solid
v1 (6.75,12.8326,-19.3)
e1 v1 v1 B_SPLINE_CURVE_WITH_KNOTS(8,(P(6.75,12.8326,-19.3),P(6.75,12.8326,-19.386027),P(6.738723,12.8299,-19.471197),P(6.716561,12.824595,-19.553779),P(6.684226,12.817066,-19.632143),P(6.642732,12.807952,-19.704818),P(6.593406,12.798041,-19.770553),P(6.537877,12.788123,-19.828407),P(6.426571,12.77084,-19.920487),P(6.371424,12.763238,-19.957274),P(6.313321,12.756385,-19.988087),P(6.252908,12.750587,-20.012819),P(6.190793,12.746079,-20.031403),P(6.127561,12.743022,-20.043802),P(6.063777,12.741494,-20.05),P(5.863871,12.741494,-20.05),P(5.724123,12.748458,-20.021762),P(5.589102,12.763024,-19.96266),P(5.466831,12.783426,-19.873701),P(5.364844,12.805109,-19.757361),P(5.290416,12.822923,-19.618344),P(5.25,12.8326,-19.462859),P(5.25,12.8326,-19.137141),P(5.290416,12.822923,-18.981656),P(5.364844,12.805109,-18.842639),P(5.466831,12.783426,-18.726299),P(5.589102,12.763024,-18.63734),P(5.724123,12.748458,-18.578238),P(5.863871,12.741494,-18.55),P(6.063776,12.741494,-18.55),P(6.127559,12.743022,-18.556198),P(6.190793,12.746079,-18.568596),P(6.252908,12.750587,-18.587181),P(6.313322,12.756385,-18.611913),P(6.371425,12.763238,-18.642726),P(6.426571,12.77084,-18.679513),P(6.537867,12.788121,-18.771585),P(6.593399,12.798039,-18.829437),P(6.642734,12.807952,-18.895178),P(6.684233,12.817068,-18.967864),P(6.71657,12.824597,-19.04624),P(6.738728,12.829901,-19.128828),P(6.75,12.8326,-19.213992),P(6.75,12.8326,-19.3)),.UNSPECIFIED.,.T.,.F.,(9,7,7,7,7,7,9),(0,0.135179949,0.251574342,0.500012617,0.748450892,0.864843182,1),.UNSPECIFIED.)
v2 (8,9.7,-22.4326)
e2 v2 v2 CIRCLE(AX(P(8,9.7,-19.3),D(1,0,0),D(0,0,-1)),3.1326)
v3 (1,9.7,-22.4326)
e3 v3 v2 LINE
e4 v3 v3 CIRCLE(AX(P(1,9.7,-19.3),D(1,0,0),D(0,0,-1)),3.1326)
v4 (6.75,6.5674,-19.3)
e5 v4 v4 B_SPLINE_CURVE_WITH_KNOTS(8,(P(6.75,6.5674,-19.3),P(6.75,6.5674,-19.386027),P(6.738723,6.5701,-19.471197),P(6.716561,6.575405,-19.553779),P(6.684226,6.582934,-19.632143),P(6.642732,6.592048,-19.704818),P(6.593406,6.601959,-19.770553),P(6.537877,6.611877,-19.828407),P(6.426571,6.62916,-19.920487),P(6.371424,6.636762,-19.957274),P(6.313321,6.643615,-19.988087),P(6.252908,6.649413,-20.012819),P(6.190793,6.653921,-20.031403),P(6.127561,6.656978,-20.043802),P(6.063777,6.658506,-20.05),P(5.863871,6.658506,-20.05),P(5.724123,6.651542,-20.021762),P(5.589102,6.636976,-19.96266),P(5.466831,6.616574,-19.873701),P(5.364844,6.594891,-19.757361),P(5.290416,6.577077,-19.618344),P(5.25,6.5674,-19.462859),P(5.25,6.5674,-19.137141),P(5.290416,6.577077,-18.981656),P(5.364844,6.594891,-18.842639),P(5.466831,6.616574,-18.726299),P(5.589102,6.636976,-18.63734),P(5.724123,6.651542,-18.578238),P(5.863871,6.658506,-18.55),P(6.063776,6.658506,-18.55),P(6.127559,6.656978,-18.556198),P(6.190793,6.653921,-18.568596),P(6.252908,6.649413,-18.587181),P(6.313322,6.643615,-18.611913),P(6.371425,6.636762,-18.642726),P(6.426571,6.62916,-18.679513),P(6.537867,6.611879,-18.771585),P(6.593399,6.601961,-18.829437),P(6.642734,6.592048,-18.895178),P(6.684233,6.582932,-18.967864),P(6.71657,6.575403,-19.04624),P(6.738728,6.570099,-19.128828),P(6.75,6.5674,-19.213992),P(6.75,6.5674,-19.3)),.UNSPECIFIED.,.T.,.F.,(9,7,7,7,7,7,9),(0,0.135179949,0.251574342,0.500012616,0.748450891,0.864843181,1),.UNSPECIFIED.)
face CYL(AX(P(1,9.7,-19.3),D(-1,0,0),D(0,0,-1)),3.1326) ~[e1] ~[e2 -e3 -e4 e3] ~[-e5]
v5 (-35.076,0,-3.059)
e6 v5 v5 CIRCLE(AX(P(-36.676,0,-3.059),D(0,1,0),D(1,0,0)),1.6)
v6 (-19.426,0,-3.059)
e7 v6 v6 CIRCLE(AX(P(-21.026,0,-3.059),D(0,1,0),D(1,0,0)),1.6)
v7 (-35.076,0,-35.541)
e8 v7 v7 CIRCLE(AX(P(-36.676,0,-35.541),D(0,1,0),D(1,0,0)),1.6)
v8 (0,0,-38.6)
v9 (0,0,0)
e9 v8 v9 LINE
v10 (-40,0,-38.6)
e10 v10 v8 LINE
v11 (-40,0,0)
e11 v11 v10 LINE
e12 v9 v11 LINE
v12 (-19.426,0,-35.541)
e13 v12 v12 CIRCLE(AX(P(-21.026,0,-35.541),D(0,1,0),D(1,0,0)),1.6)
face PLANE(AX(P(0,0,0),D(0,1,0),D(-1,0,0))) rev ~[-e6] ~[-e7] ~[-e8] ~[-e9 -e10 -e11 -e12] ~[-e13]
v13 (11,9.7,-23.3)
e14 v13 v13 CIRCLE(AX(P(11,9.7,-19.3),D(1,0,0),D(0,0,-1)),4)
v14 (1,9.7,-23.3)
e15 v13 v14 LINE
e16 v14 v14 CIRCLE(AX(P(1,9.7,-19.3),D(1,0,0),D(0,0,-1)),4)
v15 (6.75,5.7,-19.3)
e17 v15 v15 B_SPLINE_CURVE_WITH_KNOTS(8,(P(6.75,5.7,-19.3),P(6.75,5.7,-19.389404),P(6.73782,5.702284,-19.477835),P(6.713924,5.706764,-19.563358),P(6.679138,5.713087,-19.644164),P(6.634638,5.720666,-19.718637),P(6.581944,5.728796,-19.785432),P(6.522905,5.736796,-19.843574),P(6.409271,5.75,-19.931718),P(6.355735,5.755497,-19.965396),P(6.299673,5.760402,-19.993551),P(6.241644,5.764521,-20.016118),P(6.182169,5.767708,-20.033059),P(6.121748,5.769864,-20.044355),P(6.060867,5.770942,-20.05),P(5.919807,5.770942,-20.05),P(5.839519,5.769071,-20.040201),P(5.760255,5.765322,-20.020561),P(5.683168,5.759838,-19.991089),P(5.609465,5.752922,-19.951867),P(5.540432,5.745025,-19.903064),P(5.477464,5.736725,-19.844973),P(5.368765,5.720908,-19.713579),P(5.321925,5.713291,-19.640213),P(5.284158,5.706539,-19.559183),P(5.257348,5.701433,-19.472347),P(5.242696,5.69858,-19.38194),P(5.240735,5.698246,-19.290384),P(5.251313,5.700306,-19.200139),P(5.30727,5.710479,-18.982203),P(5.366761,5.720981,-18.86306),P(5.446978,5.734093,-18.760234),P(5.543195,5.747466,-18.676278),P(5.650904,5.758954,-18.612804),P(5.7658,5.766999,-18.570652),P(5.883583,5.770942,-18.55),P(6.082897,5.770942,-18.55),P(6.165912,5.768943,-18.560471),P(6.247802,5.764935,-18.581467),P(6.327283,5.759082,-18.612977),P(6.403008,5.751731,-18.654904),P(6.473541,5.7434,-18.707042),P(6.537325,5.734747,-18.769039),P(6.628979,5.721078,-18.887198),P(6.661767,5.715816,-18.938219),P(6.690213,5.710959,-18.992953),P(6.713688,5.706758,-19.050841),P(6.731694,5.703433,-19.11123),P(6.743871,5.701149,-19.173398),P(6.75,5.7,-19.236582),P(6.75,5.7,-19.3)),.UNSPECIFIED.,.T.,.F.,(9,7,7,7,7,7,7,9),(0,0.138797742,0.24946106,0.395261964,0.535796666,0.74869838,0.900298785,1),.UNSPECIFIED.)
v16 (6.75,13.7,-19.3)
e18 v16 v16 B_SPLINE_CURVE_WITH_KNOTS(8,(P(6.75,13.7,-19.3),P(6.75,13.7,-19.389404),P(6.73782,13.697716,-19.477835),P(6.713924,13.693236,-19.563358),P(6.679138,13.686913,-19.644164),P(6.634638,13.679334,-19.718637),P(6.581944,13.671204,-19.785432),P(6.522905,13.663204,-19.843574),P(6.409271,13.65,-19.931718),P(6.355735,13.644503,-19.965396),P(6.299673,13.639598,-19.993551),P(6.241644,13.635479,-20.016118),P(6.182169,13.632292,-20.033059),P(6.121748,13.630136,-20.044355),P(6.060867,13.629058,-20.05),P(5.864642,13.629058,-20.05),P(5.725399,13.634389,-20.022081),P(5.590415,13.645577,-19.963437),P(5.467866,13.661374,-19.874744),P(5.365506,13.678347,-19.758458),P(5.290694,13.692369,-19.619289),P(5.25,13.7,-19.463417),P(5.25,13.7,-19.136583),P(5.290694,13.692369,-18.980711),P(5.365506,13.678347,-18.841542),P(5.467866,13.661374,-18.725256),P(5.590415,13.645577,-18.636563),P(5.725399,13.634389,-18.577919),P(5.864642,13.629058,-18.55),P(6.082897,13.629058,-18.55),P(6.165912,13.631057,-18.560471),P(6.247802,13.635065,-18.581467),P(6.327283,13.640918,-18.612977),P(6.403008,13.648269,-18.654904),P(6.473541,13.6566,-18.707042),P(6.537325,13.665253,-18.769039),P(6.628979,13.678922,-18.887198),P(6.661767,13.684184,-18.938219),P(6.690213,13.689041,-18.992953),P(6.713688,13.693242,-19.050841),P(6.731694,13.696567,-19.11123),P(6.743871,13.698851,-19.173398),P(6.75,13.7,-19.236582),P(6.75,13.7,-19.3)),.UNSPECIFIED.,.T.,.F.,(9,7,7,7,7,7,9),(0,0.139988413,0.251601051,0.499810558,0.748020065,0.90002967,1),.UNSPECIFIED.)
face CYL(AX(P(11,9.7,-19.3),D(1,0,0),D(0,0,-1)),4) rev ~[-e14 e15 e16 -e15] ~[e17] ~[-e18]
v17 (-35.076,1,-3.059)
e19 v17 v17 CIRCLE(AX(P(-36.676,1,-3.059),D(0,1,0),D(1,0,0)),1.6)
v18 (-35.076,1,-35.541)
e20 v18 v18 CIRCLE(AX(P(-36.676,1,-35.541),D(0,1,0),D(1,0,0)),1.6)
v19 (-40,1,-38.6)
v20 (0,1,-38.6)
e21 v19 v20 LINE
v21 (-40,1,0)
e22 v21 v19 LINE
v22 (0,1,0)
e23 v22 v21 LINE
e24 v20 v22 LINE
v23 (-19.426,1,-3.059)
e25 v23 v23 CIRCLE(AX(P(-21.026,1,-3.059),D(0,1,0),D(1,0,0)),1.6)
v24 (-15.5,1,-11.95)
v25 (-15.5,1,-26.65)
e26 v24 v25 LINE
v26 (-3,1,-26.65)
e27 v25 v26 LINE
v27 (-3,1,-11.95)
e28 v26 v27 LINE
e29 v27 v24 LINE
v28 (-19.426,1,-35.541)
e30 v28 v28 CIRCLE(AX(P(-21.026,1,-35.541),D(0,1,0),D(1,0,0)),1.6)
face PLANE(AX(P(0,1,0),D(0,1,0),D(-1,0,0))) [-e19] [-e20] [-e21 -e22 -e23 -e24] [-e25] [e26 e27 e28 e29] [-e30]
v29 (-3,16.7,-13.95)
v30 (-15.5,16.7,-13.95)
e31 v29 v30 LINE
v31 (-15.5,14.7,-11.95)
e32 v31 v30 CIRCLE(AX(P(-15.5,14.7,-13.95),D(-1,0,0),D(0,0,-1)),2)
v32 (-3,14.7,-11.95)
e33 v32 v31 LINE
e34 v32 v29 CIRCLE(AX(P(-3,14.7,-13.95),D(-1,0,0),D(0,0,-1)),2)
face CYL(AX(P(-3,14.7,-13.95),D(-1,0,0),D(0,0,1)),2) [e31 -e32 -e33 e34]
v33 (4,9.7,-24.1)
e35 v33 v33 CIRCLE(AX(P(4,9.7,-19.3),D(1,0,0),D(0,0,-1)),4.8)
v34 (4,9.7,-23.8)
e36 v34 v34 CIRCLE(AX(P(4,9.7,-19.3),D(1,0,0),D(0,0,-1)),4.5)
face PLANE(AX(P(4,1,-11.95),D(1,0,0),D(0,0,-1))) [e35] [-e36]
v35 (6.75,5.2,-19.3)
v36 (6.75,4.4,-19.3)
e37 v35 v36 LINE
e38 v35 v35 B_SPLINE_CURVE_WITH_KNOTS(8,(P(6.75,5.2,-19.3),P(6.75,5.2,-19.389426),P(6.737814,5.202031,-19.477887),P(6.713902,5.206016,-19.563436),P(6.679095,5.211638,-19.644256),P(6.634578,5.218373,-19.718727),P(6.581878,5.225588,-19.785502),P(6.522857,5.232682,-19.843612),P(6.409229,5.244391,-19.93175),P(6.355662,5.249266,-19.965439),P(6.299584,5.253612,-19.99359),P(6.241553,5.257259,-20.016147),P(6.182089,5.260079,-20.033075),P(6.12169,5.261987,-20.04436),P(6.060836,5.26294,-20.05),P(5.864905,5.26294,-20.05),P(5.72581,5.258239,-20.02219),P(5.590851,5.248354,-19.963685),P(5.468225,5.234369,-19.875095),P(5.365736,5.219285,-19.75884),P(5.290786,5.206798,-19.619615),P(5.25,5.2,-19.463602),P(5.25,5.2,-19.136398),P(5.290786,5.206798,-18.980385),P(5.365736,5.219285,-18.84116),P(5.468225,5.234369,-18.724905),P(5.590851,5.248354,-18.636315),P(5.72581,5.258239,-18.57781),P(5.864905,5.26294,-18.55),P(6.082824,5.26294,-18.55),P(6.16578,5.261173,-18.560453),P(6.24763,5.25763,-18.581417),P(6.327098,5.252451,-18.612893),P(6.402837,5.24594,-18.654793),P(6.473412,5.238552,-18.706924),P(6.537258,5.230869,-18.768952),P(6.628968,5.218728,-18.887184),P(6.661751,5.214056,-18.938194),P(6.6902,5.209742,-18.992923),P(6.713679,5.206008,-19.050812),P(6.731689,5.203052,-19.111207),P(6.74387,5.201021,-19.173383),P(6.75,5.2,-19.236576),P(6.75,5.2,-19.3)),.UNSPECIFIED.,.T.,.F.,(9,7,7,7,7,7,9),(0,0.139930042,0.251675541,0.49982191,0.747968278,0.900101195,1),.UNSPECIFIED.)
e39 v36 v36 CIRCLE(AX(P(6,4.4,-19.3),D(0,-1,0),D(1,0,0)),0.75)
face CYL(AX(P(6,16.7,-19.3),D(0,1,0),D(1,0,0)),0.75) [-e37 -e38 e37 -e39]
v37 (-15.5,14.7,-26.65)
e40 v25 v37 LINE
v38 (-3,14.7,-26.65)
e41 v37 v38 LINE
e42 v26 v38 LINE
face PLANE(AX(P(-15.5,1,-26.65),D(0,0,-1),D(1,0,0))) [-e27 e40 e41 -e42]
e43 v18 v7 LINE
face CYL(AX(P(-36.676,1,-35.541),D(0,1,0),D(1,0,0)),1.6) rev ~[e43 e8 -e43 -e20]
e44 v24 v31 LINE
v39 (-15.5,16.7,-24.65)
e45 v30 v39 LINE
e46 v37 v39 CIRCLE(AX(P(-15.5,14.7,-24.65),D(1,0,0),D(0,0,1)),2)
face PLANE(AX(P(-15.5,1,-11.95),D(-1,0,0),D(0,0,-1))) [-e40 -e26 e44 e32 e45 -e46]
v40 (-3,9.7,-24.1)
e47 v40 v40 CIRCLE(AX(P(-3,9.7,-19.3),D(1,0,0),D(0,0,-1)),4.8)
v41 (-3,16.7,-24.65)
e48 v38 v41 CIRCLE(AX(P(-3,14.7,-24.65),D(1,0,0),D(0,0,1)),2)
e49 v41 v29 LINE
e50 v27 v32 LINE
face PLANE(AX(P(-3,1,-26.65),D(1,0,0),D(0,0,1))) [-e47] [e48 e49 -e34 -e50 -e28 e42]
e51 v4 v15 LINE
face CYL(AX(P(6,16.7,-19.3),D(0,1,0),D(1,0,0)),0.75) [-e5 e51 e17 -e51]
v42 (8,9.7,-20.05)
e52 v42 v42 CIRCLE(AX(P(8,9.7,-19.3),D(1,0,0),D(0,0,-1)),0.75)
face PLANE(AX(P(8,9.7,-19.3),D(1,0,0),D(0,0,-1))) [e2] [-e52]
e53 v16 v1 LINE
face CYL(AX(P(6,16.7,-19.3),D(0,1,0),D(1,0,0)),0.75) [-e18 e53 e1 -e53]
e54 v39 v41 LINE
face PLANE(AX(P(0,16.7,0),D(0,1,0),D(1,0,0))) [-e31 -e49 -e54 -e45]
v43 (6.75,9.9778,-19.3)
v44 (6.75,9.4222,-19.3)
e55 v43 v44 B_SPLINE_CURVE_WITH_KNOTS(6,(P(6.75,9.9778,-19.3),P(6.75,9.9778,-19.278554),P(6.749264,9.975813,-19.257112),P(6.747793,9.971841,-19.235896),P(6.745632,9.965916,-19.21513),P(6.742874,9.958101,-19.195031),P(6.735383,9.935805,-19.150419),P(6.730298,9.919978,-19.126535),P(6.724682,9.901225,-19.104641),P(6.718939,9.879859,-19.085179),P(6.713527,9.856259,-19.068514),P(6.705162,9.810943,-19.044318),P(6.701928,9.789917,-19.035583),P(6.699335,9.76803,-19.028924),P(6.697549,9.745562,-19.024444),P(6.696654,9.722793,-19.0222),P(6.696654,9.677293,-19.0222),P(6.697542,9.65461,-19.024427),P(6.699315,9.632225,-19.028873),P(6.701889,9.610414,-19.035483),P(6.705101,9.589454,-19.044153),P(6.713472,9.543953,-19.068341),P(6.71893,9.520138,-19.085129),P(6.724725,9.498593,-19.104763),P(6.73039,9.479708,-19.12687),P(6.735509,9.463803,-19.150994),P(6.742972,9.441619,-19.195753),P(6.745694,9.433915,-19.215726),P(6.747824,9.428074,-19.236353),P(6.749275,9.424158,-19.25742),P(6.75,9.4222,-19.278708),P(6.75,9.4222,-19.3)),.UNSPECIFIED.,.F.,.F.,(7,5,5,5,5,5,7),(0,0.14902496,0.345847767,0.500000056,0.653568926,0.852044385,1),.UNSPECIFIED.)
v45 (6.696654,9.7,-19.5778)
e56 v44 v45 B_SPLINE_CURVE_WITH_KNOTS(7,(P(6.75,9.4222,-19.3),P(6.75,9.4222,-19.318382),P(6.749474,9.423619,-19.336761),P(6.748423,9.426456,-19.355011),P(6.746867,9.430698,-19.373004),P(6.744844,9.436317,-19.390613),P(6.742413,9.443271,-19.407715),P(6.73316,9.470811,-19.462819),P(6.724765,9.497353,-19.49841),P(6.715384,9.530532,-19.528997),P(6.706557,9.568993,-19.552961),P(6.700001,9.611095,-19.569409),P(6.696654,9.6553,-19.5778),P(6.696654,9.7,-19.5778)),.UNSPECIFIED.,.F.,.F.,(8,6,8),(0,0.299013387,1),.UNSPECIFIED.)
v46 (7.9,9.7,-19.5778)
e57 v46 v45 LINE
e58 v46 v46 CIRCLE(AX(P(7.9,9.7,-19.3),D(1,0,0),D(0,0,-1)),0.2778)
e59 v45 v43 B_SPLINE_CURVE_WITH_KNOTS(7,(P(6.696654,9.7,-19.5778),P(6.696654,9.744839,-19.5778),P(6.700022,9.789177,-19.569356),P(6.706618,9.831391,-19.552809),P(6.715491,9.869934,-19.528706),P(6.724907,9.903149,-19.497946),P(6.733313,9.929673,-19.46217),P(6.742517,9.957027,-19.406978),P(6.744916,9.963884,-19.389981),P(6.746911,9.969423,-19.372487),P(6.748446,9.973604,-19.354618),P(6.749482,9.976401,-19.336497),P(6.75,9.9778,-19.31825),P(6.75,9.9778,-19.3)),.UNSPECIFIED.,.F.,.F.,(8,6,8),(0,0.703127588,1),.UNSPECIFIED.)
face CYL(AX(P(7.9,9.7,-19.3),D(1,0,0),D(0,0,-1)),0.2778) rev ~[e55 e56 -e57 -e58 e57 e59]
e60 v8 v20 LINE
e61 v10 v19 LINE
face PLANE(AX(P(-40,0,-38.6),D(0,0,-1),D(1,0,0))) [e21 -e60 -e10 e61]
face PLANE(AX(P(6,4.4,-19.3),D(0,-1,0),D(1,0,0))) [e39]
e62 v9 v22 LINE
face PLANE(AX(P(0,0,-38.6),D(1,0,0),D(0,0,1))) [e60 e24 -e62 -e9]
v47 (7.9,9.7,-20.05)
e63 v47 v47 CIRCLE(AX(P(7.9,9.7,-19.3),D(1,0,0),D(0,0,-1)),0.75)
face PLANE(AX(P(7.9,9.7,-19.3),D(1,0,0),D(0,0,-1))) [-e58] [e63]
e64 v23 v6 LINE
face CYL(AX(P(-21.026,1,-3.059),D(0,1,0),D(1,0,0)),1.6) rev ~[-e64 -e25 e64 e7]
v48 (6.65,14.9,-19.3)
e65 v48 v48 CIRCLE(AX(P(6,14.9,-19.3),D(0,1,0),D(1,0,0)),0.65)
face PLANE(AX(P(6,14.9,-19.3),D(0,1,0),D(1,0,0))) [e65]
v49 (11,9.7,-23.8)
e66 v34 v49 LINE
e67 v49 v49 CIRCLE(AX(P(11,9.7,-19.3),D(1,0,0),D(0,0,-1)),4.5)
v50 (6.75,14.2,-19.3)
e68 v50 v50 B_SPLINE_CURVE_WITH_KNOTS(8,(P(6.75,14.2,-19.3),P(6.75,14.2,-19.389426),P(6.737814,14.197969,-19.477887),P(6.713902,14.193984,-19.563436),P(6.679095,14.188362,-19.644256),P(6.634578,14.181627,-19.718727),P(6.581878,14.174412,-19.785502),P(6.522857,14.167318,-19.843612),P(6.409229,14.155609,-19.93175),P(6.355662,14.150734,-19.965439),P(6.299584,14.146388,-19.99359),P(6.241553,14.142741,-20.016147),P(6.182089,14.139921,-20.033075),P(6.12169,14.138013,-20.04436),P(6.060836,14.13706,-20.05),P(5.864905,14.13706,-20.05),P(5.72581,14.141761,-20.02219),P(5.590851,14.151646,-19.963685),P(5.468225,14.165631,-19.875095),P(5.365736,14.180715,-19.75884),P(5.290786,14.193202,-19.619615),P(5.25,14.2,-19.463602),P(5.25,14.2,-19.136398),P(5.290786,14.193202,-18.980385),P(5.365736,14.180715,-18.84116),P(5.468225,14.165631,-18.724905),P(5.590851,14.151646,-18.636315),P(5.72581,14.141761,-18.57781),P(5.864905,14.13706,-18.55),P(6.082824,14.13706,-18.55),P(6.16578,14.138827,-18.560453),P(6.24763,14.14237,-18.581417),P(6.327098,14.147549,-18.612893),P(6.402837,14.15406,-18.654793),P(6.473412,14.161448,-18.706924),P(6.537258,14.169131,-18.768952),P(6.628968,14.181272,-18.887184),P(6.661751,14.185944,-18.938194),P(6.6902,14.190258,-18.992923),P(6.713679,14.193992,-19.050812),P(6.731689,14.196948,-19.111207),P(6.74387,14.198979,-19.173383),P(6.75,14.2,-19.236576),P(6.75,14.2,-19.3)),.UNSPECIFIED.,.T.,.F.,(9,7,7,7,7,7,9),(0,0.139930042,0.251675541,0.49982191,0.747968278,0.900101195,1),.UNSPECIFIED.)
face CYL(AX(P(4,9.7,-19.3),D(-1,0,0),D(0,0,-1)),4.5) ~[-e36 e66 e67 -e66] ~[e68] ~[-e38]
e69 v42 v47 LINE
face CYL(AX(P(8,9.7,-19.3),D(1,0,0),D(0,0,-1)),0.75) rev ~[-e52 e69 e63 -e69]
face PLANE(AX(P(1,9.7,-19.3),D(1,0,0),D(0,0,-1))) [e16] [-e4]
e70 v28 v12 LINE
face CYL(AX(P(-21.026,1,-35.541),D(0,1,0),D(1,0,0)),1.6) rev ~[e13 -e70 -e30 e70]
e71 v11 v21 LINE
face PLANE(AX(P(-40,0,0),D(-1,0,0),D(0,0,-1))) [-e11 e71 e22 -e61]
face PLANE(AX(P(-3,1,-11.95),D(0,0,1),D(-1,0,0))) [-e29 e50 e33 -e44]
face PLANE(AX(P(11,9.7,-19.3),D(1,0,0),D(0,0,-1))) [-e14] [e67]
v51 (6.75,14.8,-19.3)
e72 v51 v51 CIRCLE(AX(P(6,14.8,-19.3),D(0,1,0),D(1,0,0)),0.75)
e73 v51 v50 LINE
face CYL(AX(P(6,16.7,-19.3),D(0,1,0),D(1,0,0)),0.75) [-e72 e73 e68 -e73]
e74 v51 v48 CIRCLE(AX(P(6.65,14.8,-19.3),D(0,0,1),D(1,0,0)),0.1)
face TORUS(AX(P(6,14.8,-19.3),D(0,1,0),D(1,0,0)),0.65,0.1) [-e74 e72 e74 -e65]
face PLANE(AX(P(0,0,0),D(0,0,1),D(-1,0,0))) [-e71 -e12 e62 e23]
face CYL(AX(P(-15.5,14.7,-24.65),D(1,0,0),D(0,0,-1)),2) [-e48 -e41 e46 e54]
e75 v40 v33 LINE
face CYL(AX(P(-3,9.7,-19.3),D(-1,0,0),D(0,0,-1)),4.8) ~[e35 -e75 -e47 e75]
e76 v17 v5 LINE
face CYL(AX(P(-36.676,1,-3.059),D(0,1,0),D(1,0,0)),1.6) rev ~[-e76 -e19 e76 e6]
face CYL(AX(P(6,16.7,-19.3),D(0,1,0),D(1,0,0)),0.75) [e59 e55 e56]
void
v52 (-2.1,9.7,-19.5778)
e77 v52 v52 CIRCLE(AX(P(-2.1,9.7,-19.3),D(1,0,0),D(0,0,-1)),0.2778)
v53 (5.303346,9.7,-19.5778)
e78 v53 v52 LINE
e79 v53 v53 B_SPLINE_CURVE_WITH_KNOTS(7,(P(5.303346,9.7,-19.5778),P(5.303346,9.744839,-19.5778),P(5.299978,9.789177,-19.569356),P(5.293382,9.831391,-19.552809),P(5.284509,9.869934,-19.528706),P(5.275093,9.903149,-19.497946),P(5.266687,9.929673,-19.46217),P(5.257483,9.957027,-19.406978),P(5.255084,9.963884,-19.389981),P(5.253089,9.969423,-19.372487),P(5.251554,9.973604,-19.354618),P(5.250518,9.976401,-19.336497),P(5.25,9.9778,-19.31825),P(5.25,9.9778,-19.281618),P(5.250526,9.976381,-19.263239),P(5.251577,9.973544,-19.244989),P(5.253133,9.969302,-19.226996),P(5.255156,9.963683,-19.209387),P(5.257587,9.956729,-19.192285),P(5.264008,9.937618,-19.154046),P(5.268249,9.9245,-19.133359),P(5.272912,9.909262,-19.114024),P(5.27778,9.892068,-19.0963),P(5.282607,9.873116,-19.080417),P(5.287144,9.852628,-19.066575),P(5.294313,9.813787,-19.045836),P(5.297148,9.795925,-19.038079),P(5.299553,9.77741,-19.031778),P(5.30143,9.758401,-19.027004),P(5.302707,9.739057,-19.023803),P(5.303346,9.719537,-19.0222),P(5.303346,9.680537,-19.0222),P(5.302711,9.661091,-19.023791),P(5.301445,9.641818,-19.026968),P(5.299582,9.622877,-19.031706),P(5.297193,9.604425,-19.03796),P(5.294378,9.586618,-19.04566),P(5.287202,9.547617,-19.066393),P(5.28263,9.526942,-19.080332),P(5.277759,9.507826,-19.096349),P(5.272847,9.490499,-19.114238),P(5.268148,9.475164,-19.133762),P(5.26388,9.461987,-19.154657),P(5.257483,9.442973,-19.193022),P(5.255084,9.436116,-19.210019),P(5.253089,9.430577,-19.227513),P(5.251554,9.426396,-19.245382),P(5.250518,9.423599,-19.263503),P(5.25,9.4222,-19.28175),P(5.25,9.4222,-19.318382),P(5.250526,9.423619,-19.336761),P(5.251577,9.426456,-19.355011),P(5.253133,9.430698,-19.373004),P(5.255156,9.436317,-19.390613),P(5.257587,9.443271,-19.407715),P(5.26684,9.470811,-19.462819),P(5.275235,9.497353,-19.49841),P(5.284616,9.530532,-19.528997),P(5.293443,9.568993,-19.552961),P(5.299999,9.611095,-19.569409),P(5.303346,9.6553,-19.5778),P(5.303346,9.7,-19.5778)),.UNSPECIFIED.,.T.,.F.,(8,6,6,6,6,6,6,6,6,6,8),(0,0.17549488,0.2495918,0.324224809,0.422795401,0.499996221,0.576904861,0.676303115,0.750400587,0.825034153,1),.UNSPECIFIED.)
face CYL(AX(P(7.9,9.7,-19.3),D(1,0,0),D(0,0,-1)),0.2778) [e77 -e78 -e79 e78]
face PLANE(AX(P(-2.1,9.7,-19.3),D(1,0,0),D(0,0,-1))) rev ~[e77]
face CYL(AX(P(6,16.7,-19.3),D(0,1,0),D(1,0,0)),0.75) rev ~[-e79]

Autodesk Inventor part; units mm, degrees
ref_plane "YZ Plane" through (0, 0, 0) normal (1, 0, 0) x (0, 1, 0)
ref_plane "XZ Plane" through (0, 0, 0) normal (0, 1, 0) x (-1, 0, 0)
ref_plane "XY Plane" through (0, 0, 0) normal (0, 0, 1) x (1, 0, 0)
sketch "Sketch1" plane through (0, 0, 0) normal (0, 1, 0) x (-1, 0, 0)
  line L0 (0, 0) -> (40, 0)
  line L1 (40, 0) -> (40, -38.6)
  line L2 (40, -38.6) -> (0, -38.6)
  line L3 (0, -38.6) -> (0, 0)
  dimension "d0" = 40
  dimension "d1" = 38.6
extrude "Extrusion1" add sketch "Sketch1" along normal blind 1
sketch "Sketch6" plane through (0, 1, 0) normal (0, 1, 0) x (1, 0, 0)
  circle A0 centre (-36.676, 3.059) radius 1.6
  circle A1 centre (-21.026, 3.059) radius 1.6
  circle A2 centre (-21.026, 35.541) radius 1.6
  circle A3 centre (-36.676, 35.541) radius 1.6
  line L0 (0, 38.6) -> (-40, 38.6) projected
  line L1 (-40, 38.6) -> (-40, 0) projected
  point P0 (0, 0)
  dimension "d35" = 3.2
  dimension "d36" = 3.2
  dimension "d37" = 3.2
  dimension "d38" = 3.2
  dimension "d39" = 15.65
  dimension "d40" = 15.65
  dimension "d41" = 32.482
  dimension "d42" = 0
  dimension "d43" = 0
  dimension "d44" = 0
  dimension "d45" = 3.059
  dimension "d46" = 3.324
extrude "Extrusion5" cut sketch "Sketch6" against normal blind 5
sketch "Sketch7" plane through (0, 1, 0) normal (0, 1, 0) x (1, 0, 0)
  line L0 (-15.5, 26.65) -> (-3, 26.65)
  line L1 (-3, 26.65) -> (-3, 11.95)
  line L2 (-3, 11.95) -> (-15.5, 11.95)
  line L3 (-15.5, 11.95) -> (-15.5, 26.65)
  line L4 (0, 38.6) -> (-40, 38.6) projected
  line L5 (0, 0) -> (0, 38.6) projected
  dimension "d49" = 12.5
  dimension "d50" = 14.7
  dimension "d51" = 11.95
  dimension "d52" = 3
extrude "Extrusion6" add sketch "Sketch7" along normal blind 15.7
sketch "Sketch9" plane through (-3, 1, -11.95) normal (1, 0, 0) x (0, 0, -1)
  circle A0 centre (7.35, 8.7) radius 4.8
  line L0 (14.7, 0) -> (14.7, 15.7) projected
  line L1 (0, 15.7) -> (14.7, 15.7) projected
  point P0 (-11.95, -1)
  dimension "d55" = 9.6
  dimension "d56" = 7.35
  dimension "d57" = 7
extrude "Extrusion7" add sketch "Sketch9" along normal blind 7
fillet "Fillet1" radius 2 2 edges at (-9.25, 16.7, -11.95) (-9.25, 16.7, -26.65)
sketch "Sketch10" plane through (4, 9.7, -19.3) normal (1, 0, 0) x (0, 0, -1)
  circle A0 centre (0, 0) radius 4.5
  line L0 (7.35, -8.7) -> (7.35, 5) projected
  line L1 (-5.35, 7) -> (5.35, 7) projected
  point P0 (-19.3, -9.7)
  dimension "d61" = 9
  dimension "d62" = 7.35
  dimension "d63" = 7
extrude "Extrusion8" add sketch "Sketch10" along normal blind 7
sketch "Sketch11" plane through (11, 9.7, -19.3) normal (1, 0, 0) x (0, 0, -1)
  circle A0 centre (0, 0) radius 4
  point P0 (-19.3, -9.7)
  dimension "d66" = 8
extrude "Extrusion9" cut sketch "Sketch11" against normal blind 10
sketch "Sketch12" plane through (1, 9.7, -19.3) normal (1, 0, 0) x (0, 0, -1)
  circle A0 centre (0, 0) radius 3.1326
  point P0 (-19.3, -9.7)
extrude "Extrusion10" add sketch "Sketch12" along normal blind 7
sketch "Sketch13" plane through (8, 9.7, -19.3) normal (1, 0, 0) x (0, 0, -1)
  circle A0 centre (0, 0) radius 0.75
  point P0 (-19.3, -9.7)
  dimension "d75" = 1.5
extrude "Extrusion11" cut sketch "Sketch13" against normal blind 0.1
sketch "Sketch14" plane through (7.9, 9.7, -19.3) normal (1, 0, 0) x (0, 0, -1)
  circle A0 centre (0, 0) radius 0.2778
  point P0 (-19.3, -9.7)
extrude "Extrusion12" cut sketch "Sketch14" against normal blind 10
sketch "Sketch15" plane through (0, 16.7, 0) normal (0, 1, 0) x (1, 0, 0)
  circle A0 centre (6, 19.3) radius 0.75
  line L0 (-3, 26.65) -> (-15.5, 26.65) projected
  line L1 (-3, 13.95) -> (-3, 24.65) projected
  point P0 (0, 0)
  dimension "d76" = 1.5
  dimension "d77" = 7.35
  dimension "d78" = 9
extrude "Extrusion13" add sketch "Sketch15" against normal blind 20
sketch "Sketch16" plane through (6, 16.7, -19.3) normal (0, 1, 0) x (1, 0, 0)
  circle A0 centre (0, 0) radius 0.75
  point P0 (-6, -19.3)
extrude "Extrusion14" cut sketch "Sketch16" against normal blind 1.8
sketch "Sketch17" plane through (6, -3.3, -19.3) normal (0, -1, 0) x (1, 0, 0)
  circle A0 centre (0, 0) radius 0.75
  point P0 (-6, 19.3)
extrude "Extrusion15" cut sketch "Sketch17" against normal blind 7.7
fillet "Fillet2" radius 0.1 1 edges at (5.25, 14.9, -19.3)
properties part number "LED8"
